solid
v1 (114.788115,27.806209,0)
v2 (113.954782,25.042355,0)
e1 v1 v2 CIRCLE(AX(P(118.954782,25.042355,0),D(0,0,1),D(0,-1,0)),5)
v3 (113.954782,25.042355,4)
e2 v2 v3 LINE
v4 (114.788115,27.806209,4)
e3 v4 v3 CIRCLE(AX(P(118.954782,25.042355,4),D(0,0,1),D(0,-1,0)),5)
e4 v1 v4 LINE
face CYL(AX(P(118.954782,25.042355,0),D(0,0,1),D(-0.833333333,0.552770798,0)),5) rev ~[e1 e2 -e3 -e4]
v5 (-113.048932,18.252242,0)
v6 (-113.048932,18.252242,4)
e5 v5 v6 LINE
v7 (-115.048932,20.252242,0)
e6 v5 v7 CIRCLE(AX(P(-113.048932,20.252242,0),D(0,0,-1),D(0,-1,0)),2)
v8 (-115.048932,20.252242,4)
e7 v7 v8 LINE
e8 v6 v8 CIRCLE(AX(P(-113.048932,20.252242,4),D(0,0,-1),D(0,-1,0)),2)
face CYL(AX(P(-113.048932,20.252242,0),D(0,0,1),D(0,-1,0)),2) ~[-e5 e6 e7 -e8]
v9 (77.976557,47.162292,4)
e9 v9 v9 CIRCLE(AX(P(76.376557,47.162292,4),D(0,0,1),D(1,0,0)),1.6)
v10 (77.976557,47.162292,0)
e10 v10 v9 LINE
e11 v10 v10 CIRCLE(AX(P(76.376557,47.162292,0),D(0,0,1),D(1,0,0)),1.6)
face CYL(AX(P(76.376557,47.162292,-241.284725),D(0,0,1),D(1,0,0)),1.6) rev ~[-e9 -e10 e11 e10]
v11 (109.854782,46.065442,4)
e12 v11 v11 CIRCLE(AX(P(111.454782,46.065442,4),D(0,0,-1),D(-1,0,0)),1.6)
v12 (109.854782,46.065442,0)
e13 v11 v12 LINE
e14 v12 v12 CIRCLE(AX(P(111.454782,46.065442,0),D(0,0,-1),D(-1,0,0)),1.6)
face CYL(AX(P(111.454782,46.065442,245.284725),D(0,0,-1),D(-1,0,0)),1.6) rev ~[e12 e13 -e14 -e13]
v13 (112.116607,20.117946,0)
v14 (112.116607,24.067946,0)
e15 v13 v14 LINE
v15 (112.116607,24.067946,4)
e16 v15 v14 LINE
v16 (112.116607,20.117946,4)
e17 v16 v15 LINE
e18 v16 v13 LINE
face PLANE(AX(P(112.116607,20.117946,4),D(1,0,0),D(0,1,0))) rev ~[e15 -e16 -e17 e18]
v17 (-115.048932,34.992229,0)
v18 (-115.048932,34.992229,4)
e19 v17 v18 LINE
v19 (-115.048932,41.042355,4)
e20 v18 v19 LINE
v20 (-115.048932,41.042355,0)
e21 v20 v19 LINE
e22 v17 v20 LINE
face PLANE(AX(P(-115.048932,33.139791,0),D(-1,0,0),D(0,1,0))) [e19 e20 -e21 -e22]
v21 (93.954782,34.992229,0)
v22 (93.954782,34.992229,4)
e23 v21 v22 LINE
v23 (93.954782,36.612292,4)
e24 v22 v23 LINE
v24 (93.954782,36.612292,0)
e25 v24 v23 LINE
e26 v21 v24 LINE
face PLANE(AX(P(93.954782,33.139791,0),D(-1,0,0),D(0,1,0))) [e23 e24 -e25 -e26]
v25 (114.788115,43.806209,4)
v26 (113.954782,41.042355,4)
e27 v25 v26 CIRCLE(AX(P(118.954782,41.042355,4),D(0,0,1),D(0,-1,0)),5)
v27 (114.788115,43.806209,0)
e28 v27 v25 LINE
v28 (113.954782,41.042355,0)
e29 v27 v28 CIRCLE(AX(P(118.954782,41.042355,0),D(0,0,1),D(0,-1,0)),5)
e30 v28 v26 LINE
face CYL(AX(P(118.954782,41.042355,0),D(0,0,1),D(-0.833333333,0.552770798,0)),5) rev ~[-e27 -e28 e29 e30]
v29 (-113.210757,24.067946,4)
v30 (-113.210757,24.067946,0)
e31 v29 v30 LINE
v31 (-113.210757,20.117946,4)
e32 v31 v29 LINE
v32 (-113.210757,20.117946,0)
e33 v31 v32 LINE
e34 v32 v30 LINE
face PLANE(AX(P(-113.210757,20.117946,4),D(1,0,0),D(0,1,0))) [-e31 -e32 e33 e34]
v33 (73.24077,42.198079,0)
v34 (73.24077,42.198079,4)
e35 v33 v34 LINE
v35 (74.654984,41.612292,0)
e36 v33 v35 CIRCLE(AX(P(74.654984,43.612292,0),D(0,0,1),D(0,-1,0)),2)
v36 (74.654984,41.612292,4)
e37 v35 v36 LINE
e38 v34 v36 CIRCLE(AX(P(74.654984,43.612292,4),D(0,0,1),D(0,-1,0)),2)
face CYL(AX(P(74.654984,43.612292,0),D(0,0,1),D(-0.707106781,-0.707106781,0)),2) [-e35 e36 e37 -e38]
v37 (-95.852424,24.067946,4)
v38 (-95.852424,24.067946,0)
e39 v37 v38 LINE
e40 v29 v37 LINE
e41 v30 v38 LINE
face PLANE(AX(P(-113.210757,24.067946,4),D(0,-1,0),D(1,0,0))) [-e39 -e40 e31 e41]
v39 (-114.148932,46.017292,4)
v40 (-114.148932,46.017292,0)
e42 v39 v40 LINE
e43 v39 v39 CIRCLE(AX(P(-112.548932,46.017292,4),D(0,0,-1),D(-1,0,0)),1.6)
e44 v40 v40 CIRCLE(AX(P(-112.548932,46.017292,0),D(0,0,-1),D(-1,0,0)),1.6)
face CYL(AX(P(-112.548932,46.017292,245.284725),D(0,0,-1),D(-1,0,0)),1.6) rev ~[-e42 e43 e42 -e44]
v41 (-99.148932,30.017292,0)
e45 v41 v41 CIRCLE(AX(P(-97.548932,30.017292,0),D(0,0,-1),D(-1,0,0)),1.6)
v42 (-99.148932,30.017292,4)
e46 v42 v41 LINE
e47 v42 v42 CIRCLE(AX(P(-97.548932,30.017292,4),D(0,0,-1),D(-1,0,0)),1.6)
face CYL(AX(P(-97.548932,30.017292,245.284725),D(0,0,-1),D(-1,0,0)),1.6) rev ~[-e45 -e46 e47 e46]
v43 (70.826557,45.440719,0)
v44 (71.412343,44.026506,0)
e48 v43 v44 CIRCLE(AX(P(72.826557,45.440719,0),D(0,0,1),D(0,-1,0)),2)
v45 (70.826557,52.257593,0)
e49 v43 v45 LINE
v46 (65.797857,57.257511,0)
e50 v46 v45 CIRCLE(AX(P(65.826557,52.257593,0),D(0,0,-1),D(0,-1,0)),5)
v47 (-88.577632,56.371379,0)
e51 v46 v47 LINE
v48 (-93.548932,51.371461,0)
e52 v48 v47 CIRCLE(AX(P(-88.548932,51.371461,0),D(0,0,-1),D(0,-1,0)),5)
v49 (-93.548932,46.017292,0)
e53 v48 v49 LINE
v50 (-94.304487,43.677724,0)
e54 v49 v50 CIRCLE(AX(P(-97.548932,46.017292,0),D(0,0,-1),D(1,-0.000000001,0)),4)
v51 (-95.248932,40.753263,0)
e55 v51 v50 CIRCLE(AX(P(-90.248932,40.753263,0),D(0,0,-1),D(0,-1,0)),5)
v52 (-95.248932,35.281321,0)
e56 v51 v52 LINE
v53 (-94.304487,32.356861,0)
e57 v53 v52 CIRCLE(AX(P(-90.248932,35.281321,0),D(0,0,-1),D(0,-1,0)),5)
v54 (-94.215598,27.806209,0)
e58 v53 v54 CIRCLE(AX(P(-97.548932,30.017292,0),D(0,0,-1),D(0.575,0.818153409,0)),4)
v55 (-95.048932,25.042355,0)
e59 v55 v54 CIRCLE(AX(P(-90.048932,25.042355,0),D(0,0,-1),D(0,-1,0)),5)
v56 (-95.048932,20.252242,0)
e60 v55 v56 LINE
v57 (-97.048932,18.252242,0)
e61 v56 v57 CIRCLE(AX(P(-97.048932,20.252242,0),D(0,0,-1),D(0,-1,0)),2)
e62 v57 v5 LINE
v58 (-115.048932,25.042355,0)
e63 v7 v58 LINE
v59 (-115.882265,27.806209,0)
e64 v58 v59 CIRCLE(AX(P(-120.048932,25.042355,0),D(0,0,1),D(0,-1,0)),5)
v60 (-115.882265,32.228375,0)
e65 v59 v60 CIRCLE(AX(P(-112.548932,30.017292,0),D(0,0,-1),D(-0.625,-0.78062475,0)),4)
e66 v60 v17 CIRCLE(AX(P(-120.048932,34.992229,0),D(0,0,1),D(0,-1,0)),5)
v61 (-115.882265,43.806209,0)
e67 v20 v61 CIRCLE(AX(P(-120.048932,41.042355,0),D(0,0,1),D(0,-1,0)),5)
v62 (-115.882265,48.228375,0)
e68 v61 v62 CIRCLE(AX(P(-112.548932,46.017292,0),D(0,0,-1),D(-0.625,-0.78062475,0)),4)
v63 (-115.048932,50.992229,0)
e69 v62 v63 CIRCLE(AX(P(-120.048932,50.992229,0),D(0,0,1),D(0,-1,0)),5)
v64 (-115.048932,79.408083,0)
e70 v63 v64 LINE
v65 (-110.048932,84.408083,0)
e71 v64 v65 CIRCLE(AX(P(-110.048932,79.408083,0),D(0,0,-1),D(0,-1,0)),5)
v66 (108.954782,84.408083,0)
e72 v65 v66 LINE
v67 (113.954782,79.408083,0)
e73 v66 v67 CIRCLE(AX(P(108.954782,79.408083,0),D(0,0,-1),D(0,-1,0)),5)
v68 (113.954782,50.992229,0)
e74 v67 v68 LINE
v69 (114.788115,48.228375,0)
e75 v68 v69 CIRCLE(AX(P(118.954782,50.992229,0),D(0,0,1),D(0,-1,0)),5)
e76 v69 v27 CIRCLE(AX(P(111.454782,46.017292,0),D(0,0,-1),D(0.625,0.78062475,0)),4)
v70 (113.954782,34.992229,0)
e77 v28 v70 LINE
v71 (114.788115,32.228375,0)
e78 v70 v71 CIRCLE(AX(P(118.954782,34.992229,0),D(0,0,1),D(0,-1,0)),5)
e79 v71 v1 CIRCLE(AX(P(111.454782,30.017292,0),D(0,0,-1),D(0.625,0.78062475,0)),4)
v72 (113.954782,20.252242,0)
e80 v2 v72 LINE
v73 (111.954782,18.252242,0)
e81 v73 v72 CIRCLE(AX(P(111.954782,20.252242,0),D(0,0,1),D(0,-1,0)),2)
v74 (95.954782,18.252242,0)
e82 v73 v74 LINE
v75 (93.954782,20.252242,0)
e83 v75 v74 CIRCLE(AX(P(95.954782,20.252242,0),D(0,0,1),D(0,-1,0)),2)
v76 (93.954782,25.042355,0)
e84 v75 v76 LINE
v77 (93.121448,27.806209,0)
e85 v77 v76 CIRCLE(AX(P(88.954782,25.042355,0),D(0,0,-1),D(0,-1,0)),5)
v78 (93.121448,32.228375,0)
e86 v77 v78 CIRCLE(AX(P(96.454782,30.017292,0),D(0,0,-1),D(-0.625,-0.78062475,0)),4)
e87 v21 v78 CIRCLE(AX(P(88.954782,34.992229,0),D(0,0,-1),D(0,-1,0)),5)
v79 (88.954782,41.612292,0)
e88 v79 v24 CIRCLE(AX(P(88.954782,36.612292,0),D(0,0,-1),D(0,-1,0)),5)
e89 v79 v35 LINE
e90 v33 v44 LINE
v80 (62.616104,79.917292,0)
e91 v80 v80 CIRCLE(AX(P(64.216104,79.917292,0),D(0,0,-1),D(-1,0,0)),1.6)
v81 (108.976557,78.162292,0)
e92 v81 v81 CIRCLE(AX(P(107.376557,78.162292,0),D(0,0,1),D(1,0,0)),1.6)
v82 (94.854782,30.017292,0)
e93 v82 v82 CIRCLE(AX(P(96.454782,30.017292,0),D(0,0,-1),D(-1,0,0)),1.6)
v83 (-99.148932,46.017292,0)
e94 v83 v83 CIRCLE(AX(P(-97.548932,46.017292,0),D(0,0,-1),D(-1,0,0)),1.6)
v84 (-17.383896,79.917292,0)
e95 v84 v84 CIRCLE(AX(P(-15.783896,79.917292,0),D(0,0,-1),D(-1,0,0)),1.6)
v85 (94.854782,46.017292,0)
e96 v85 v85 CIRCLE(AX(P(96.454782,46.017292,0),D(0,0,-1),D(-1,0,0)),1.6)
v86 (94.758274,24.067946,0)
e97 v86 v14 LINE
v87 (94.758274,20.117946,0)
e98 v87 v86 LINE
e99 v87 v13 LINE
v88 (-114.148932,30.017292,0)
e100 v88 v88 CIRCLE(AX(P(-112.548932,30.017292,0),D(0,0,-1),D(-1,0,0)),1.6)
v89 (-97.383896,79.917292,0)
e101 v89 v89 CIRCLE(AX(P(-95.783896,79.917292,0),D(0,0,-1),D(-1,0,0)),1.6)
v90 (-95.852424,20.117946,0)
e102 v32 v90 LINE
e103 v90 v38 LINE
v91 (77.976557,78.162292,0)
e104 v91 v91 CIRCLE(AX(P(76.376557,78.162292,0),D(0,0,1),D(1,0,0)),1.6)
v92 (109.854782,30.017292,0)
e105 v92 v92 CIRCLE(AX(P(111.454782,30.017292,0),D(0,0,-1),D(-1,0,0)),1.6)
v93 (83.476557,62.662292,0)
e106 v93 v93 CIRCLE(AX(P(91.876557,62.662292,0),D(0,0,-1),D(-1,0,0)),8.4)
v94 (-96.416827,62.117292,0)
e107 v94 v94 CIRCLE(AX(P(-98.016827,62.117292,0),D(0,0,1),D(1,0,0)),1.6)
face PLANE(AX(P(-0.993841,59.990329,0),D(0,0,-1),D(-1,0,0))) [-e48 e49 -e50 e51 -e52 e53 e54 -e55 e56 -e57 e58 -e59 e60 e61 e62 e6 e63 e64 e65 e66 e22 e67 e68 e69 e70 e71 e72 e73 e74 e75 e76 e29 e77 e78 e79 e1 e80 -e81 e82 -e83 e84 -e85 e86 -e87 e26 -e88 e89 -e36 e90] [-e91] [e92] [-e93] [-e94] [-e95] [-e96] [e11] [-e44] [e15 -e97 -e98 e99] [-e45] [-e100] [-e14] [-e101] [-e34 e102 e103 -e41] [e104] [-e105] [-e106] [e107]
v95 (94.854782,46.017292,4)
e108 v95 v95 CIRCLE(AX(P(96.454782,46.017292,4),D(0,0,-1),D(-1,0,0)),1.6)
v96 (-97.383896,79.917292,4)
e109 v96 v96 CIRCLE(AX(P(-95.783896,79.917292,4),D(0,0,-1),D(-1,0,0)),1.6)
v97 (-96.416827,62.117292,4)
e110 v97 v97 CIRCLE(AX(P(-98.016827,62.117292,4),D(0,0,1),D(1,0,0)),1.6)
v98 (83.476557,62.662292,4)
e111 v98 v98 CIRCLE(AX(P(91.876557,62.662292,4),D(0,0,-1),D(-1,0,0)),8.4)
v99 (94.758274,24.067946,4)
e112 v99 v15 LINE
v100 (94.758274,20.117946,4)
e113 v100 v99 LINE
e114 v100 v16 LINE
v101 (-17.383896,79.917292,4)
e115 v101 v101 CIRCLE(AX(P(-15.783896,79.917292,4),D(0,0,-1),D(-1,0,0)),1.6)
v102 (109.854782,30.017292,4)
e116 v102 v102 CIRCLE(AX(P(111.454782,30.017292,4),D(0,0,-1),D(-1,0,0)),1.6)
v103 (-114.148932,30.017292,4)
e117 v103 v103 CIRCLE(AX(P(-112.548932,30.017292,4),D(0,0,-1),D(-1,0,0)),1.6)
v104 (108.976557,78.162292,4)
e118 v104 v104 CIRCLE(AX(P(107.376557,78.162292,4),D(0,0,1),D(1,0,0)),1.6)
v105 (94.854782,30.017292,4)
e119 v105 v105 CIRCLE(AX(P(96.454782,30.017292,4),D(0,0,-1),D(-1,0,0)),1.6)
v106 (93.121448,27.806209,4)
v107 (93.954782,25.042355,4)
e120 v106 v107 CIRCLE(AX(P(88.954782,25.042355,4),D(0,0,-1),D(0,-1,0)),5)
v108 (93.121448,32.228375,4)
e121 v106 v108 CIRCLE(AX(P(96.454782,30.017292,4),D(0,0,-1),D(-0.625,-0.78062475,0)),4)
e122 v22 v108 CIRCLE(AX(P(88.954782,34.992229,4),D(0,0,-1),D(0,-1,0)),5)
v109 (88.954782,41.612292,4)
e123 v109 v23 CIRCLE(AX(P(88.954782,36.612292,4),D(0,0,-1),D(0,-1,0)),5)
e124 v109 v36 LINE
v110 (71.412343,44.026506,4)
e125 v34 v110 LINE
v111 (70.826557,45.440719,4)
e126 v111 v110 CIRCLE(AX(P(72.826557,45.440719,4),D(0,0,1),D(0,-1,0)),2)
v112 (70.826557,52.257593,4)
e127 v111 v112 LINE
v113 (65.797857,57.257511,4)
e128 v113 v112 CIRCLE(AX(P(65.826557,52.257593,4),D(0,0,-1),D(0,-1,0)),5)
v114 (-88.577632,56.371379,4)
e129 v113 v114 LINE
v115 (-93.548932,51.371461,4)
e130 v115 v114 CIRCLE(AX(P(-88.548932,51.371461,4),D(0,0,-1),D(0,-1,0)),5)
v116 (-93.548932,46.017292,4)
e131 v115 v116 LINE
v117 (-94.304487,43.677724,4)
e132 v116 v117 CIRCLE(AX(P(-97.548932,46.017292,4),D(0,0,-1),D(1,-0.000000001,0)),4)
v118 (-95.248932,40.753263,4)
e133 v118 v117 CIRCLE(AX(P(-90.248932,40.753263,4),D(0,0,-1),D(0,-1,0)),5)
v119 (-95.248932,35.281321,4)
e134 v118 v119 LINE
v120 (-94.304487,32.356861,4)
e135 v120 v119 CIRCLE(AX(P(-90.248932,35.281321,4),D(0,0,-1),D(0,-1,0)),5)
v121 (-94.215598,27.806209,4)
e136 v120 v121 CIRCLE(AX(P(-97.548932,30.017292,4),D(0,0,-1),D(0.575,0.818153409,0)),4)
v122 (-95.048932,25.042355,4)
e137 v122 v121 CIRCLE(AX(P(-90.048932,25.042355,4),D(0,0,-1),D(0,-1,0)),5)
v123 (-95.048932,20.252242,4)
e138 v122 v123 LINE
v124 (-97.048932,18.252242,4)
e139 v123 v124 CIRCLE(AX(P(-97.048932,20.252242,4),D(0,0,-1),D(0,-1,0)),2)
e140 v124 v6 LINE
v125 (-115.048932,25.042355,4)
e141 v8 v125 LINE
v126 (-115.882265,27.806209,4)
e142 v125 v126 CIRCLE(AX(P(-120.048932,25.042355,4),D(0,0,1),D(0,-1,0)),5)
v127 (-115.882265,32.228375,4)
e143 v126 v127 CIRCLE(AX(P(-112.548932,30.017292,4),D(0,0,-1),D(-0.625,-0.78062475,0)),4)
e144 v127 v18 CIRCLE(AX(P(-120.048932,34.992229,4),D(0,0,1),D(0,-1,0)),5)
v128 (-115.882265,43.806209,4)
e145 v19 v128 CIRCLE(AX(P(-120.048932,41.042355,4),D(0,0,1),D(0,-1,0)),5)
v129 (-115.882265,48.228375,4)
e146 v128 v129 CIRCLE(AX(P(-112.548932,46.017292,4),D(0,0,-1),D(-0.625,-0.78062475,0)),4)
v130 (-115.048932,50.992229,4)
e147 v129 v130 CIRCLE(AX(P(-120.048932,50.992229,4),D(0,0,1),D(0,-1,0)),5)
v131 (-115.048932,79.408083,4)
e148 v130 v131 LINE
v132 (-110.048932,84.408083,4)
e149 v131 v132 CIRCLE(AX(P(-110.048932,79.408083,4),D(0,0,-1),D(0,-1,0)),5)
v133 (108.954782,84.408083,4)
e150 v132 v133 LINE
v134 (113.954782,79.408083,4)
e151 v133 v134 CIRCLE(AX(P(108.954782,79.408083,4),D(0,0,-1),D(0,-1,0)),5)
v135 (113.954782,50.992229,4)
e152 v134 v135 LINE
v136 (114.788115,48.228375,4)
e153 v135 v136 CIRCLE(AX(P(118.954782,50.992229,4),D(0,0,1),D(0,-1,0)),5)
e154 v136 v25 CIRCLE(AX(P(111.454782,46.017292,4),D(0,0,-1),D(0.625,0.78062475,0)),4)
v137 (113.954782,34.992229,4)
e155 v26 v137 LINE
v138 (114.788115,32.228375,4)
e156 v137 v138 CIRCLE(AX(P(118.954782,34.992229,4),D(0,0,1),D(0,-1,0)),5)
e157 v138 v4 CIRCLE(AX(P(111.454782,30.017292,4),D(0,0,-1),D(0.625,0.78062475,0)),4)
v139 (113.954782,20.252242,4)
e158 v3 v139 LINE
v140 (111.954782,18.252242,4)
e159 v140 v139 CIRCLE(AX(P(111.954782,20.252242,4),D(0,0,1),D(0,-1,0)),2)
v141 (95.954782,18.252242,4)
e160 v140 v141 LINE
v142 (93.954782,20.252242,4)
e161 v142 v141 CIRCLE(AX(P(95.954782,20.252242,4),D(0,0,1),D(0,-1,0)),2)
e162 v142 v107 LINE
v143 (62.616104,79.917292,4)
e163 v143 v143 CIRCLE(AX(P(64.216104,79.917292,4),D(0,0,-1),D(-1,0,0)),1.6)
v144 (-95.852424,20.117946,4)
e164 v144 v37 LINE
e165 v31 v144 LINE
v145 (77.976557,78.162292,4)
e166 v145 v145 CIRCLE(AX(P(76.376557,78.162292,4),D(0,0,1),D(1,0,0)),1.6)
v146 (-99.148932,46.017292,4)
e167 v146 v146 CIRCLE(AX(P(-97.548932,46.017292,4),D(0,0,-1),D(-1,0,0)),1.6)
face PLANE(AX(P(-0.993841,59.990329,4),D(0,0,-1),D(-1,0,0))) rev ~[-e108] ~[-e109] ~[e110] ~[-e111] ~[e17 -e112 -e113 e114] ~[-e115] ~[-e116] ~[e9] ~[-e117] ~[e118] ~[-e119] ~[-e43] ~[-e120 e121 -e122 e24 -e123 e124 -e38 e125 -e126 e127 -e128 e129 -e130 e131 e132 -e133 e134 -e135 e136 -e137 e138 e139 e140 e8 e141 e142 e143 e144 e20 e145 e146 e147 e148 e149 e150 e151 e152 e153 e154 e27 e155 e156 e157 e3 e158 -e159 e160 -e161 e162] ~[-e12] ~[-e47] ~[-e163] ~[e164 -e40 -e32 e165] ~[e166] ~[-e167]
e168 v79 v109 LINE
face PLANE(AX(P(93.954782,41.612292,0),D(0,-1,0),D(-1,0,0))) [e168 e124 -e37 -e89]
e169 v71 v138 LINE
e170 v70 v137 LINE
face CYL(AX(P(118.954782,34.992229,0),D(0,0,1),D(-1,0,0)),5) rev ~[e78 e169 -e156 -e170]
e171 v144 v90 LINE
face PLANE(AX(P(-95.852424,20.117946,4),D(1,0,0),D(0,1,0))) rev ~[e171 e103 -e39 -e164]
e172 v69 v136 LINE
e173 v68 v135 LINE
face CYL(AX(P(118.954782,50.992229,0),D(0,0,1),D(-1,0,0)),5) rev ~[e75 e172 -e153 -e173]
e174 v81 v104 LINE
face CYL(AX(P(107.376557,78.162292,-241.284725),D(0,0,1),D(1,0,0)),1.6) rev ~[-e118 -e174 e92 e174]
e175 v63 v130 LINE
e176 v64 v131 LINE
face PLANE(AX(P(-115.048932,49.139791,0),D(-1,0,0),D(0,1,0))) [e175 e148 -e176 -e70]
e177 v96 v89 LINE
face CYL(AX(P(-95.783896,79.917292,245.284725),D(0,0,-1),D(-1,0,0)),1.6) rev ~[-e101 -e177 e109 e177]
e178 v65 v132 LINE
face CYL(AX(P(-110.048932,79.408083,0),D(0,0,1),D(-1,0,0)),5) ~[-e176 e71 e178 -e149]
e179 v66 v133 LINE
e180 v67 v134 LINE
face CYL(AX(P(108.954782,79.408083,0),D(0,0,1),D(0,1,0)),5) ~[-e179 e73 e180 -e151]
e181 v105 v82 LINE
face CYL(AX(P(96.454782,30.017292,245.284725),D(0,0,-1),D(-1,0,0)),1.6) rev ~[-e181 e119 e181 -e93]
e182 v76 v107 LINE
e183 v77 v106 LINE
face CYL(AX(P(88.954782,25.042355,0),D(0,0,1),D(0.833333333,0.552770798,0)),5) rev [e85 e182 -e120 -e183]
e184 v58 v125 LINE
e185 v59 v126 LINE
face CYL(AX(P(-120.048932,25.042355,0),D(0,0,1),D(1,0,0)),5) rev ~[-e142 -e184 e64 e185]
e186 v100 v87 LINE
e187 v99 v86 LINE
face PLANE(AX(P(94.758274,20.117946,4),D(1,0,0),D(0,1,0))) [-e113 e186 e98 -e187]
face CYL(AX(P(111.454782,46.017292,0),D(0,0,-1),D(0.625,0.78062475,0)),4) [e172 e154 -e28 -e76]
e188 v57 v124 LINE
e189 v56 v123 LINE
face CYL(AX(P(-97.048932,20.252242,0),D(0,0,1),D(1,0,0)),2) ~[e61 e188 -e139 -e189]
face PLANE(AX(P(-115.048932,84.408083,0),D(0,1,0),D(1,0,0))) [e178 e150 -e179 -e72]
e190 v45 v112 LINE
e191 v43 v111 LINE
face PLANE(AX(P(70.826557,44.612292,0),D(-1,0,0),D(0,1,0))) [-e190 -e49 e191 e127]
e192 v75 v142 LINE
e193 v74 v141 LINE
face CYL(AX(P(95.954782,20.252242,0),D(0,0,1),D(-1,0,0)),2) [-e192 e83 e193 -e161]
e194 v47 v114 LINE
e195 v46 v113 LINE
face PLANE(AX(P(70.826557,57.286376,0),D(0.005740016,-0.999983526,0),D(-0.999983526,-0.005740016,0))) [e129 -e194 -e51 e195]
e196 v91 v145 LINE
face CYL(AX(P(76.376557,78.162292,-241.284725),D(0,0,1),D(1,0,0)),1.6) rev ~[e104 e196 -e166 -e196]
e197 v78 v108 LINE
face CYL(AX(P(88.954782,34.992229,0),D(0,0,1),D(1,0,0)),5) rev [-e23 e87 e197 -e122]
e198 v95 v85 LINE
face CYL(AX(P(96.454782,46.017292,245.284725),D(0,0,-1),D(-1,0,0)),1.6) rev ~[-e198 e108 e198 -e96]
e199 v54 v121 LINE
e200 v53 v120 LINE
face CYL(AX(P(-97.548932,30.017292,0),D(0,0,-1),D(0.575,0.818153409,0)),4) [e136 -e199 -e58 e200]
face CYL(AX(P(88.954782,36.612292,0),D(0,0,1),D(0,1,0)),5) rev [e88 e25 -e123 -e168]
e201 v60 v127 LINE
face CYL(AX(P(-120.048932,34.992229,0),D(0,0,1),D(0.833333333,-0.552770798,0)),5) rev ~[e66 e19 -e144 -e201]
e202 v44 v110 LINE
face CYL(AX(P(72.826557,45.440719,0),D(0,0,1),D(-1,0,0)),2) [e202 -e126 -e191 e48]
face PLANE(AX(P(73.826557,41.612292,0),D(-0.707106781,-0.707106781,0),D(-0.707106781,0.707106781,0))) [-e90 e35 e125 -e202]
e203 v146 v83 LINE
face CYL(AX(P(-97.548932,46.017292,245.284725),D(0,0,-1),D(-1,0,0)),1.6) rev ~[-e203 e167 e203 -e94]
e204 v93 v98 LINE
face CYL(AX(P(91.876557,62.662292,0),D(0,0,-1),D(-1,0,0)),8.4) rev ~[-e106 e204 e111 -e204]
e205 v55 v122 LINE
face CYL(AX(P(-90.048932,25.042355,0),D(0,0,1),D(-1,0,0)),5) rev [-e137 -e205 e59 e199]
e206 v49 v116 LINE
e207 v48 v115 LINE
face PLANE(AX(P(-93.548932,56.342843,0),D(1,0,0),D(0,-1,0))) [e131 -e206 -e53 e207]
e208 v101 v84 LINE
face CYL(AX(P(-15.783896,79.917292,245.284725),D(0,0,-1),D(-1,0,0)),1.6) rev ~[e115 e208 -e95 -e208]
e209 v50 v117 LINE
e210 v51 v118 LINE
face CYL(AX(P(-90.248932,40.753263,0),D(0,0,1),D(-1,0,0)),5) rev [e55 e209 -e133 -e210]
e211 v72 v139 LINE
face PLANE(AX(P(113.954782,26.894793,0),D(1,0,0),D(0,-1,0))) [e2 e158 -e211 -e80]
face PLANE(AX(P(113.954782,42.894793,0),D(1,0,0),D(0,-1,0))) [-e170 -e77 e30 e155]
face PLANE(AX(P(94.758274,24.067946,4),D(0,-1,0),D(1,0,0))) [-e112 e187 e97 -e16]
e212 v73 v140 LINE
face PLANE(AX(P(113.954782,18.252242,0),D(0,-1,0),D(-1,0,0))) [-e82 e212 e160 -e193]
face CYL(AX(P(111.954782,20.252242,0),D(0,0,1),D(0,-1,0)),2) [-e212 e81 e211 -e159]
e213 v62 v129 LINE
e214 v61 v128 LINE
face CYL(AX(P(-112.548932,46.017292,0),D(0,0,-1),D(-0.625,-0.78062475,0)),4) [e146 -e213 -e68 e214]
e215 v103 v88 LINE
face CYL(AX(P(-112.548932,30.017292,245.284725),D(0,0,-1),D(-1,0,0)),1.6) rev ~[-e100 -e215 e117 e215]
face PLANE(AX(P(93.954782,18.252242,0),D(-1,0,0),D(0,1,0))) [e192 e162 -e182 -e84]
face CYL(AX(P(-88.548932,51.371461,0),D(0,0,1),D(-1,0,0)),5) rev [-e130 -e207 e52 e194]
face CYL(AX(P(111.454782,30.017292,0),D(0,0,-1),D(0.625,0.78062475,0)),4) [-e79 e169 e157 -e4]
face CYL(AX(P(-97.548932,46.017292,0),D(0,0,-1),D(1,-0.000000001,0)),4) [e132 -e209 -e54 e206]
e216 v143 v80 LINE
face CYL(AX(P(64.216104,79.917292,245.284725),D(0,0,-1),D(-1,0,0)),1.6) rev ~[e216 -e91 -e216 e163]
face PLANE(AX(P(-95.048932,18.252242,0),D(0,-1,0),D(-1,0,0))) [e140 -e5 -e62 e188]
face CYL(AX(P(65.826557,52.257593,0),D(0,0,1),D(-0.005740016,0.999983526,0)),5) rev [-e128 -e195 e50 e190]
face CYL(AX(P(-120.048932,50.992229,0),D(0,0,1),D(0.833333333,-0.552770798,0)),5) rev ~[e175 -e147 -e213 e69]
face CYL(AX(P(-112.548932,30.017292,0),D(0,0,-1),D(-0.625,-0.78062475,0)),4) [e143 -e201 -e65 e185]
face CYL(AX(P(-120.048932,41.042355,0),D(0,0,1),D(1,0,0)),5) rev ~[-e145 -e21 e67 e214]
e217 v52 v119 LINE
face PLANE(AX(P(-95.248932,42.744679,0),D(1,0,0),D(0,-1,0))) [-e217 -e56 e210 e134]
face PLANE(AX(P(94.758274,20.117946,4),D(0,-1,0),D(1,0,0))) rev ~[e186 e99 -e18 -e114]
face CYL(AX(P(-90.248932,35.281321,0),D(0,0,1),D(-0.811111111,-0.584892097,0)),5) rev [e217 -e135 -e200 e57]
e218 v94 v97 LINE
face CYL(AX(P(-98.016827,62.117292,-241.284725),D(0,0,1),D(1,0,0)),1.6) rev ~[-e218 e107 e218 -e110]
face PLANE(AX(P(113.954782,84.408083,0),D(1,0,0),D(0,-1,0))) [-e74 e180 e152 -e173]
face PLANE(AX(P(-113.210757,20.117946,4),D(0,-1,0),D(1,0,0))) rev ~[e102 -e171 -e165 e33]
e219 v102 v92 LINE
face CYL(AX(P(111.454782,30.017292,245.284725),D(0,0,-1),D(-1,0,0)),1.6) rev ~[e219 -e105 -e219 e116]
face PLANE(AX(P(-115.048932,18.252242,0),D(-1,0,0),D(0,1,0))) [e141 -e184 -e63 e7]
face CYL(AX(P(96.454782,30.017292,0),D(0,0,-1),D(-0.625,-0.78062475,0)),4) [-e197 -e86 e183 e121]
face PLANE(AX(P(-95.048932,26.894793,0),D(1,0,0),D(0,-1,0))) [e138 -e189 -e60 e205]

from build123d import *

# Parameters (mm, degrees)
RESSALTO_EXTRUS_O1_DEPTH = 4
M3_CLEARANCE_HOLE2_D     = 3.2
ESBO_O7_R                = 8.4
CORTE_EXTRUS_O1_DEPTH    = 10
M3_CLEARANCE_HOLE1_D     = 3.2
M3_CLEARANCE_HOLE3_D     = 3.2
FILETE1_R                = 5
M3_CLEARANCE_HOLE5_D     = 3.2
FILETE2_R                = 2
ESBO_O16_W               = 17.35833251
ESBO_O16_H               = 3.95
ESBO_O16_W_2             = 17.358332509
CUT_EXTRUDE1_DEPTH       = 4
FILLET2_R                = 5


with BuildPart() as part:
    # Esboço1 → Ressalto-extrusão1 (new body)
    with BuildSketch(Plane.XY):
        with BuildLine():
            Line((-95.048931647, 26.894793301), (-95.048931647, 18.252242094))
            Line((-95.048931647, 18.252242094), (-115.048931647, 18.252242094))
            Line((-115.048931647, 18.252242094), (-115.048931647, 26.894793301))
            ThreePointArc((-115.048931647, 26.894793301), (-116.548931647, 30.0172923), (-115.048931647, 33.139791299))
            Line((-115.048931647, 33.139791299), (-115.048931647, 42.894793301))
            ThreePointArc((-115.048931647, 42.894793301), (-116.548931647, 46.0172923), (-115.048931647, 49.139791299))
            Line((-115.048931647, 49.139791299), (-115.048931647, 84.40808297))
            Line((-115.048931647, 84.40808297), (113.954781763, 84.40808297))
            Line((113.954781763, 84.40808297), (113.954781763, 49.139791299))
            ThreePointArc((113.954781763, 49.139791299), (115.454781763, 46.0172923), (113.954781763, 42.894793301))
            Line((113.954781763, 42.894793301), (113.954781763, 33.139791299))
            ThreePointArc((113.954781763, 33.139791299), (115.454781763, 30.0172923), (113.954781763, 26.894793301))
            Line((113.954781763, 26.894793301), (113.954781763, 18.252242094))
            Line((113.954781763, 18.252242094), (93.954781763, 18.252242094))
            Line((93.954781763, 18.252242094), (93.954781763, 26.894793301))
            ThreePointArc((93.954781763, 26.894793301), (92.454781763, 30.0172923), (93.954781763, 33.139791299))
            Line((93.954781763, 33.139791299), (93.954781763, 41.612292304))
            Line((93.954781763, 41.612292304), (73.826556743, 41.612292304))
            Line((73.826556743, 41.612292304), (70.826556743, 44.612292304))
            Line((70.826556743, 44.612292304), (70.826556743, 57.286376167))
            Line((70.826556743, 57.286376167), (-93.548931647, 56.342842726))
            Line((-93.548931647, 56.342842726), (-93.548931647, 46.0172923))
            ThreePointArc((-93.548931647, 46.0172923), (-93.999283778, 44.173383409), (-95.248931647, 42.744678666))
            Line((-95.248931647, 42.744678666), (-95.248931647, 33.289905934))
            ThreePointArc((-95.248931647, 33.289905934), (-93.550886325, 30.142326699), (-95.048931647, 26.894793301))
        make_face()
    extrude(amount=RESSALTO_EXTRUS_O1_DEPTH)

    # M3 Clearance Hole2 (through all)
    with Locations(Plane.XY.offset(4)):
        with Locations((-112.548931647, 46.0172923), (-112.548931647, 30.0172923), (-97.548931647, 30.0172923), (-97.548931647, 46.0172923), (96.454781763, 30.0172923), (111.454781763, 30.0172923), (111.454781763, 46.06544156), (96.454781763, 46.0172923)):
            Hole(M3_CLEARANCE_HOLE2_D / 2)

    # Esboço7 → Corte-extrusão1 (cut)
    with BuildSketch(Plane(origin=(0, 0, 0), x_dir=(-1, 0, 0), z_dir=(0, 0, -1))):
        with Locations((-91.876556743, 62.662292304)):
            Circle(ESBO_O7_R)
    extrude(amount=-CORTE_EXTRUS_O1_DEPTH, mode=Mode.SUBTRACT)

    # M3 Clearance Hole1 (through all)
    with Locations(Plane(origin=(0, 0, 0), x_dir=(-1, 0, 0), z_dir=(0, 0, -1))):
        with Locations((98.016827352, 62.117292304)):
            Hole(M3_CLEARANCE_HOLE1_D / 2)

    # M3 Clearance Hole3 (through all)
    with Locations(Plane(origin=(0, 0, 0), x_dir=(-1, 0, 0), z_dir=(0, 0, -1))):
        with Locations((-76.376556743, 47.162292304), (-76.376556743, 78.162292304), (-107.376556743, 78.162292304)):
            Hole(M3_CLEARANCE_HOLE3_D / 2)

    # Filete1
    filete1_edges = [part.edges().sort_by_distance(p)[0] for p in [
        (113.954781763, 33.139791299, 2),
        (113.954781763, 26.894793301, 2),
        (93.954781763, 26.894793301, 2),
        (93.954781763, 33.139791299, 2),
        (93.954781763, 41.612292304, 2),
        (70.826556743, 57.286376167, 2),
        (-95.248931647, 42.744678666, 2),
        (-95.248931647, 33.289905934, 2),
        (-95.048931647, 26.894793301, 2),
        (-115.048931647, 26.894793301, 2),
        (-115.048931647, 33.139791299, 2),
        (-115.048931647, 42.894793301, 2),
        (-115.048931647, 49.139791299, 2),
        (-115.048931647, 84.40808297, 2),
        (113.954781763, 84.40808297, 2),
        (113.954781763, 49.139791299, 2),
        (113.954781763, 42.894793301, 2),
    ]]
    fillet(filete1_edges, radius=FILETE1_R)

    # M3 Clearance Hole5 (through all)
    with Locations(Plane.XY.offset(4)):
        with Locations((-95.783895796, 79.917292304), (64.216104204, 79.917292304), (-15.783895796, 79.917292304)):
            Hole(M3_CLEARANCE_HOLE5_D / 2)

    # Filete2
    filete2_edges = [part.edges().sort_by_distance(p)[0] for p in [
        (113.954781763, 18.252242094, 2),
        (93.954781763, 18.252242094, 2),
        (73.826556743, 41.612292304, 2),
        (70.826556743, 44.612292304, 2),
        (-95.048931647, 18.252242094, 2),
        (-115.048931647, 18.252242094, 2),
    ]]
    fillet(filete2_edges, radius=FILETE2_R)

    # Esboço16 → Cut-Extrude1 (cut)
    with BuildSketch(Plane.XY.offset(4)):
        with Locations((-104.531590398, 22.092946092)):
            Rectangle(ESBO_O16_W, ESBO_O16_H)
        with Locations((103.437440514, 22.092946092)):
            Rectangle(ESBO_O16_W_2, ESBO_O16_H)
    extrude(amount=-CUT_EXTRUDE1_DEPTH, mode=Mode.SUBTRACT)

    # Fillet2
    fillet2_edges = [part.edges().sort_by_distance(p)[0] for p in [
        (-93.548931647, 56.342842726, 2),
    ]]
    fillet(fillet2_edges, radius=FILLET2_R)


solid = part.part
